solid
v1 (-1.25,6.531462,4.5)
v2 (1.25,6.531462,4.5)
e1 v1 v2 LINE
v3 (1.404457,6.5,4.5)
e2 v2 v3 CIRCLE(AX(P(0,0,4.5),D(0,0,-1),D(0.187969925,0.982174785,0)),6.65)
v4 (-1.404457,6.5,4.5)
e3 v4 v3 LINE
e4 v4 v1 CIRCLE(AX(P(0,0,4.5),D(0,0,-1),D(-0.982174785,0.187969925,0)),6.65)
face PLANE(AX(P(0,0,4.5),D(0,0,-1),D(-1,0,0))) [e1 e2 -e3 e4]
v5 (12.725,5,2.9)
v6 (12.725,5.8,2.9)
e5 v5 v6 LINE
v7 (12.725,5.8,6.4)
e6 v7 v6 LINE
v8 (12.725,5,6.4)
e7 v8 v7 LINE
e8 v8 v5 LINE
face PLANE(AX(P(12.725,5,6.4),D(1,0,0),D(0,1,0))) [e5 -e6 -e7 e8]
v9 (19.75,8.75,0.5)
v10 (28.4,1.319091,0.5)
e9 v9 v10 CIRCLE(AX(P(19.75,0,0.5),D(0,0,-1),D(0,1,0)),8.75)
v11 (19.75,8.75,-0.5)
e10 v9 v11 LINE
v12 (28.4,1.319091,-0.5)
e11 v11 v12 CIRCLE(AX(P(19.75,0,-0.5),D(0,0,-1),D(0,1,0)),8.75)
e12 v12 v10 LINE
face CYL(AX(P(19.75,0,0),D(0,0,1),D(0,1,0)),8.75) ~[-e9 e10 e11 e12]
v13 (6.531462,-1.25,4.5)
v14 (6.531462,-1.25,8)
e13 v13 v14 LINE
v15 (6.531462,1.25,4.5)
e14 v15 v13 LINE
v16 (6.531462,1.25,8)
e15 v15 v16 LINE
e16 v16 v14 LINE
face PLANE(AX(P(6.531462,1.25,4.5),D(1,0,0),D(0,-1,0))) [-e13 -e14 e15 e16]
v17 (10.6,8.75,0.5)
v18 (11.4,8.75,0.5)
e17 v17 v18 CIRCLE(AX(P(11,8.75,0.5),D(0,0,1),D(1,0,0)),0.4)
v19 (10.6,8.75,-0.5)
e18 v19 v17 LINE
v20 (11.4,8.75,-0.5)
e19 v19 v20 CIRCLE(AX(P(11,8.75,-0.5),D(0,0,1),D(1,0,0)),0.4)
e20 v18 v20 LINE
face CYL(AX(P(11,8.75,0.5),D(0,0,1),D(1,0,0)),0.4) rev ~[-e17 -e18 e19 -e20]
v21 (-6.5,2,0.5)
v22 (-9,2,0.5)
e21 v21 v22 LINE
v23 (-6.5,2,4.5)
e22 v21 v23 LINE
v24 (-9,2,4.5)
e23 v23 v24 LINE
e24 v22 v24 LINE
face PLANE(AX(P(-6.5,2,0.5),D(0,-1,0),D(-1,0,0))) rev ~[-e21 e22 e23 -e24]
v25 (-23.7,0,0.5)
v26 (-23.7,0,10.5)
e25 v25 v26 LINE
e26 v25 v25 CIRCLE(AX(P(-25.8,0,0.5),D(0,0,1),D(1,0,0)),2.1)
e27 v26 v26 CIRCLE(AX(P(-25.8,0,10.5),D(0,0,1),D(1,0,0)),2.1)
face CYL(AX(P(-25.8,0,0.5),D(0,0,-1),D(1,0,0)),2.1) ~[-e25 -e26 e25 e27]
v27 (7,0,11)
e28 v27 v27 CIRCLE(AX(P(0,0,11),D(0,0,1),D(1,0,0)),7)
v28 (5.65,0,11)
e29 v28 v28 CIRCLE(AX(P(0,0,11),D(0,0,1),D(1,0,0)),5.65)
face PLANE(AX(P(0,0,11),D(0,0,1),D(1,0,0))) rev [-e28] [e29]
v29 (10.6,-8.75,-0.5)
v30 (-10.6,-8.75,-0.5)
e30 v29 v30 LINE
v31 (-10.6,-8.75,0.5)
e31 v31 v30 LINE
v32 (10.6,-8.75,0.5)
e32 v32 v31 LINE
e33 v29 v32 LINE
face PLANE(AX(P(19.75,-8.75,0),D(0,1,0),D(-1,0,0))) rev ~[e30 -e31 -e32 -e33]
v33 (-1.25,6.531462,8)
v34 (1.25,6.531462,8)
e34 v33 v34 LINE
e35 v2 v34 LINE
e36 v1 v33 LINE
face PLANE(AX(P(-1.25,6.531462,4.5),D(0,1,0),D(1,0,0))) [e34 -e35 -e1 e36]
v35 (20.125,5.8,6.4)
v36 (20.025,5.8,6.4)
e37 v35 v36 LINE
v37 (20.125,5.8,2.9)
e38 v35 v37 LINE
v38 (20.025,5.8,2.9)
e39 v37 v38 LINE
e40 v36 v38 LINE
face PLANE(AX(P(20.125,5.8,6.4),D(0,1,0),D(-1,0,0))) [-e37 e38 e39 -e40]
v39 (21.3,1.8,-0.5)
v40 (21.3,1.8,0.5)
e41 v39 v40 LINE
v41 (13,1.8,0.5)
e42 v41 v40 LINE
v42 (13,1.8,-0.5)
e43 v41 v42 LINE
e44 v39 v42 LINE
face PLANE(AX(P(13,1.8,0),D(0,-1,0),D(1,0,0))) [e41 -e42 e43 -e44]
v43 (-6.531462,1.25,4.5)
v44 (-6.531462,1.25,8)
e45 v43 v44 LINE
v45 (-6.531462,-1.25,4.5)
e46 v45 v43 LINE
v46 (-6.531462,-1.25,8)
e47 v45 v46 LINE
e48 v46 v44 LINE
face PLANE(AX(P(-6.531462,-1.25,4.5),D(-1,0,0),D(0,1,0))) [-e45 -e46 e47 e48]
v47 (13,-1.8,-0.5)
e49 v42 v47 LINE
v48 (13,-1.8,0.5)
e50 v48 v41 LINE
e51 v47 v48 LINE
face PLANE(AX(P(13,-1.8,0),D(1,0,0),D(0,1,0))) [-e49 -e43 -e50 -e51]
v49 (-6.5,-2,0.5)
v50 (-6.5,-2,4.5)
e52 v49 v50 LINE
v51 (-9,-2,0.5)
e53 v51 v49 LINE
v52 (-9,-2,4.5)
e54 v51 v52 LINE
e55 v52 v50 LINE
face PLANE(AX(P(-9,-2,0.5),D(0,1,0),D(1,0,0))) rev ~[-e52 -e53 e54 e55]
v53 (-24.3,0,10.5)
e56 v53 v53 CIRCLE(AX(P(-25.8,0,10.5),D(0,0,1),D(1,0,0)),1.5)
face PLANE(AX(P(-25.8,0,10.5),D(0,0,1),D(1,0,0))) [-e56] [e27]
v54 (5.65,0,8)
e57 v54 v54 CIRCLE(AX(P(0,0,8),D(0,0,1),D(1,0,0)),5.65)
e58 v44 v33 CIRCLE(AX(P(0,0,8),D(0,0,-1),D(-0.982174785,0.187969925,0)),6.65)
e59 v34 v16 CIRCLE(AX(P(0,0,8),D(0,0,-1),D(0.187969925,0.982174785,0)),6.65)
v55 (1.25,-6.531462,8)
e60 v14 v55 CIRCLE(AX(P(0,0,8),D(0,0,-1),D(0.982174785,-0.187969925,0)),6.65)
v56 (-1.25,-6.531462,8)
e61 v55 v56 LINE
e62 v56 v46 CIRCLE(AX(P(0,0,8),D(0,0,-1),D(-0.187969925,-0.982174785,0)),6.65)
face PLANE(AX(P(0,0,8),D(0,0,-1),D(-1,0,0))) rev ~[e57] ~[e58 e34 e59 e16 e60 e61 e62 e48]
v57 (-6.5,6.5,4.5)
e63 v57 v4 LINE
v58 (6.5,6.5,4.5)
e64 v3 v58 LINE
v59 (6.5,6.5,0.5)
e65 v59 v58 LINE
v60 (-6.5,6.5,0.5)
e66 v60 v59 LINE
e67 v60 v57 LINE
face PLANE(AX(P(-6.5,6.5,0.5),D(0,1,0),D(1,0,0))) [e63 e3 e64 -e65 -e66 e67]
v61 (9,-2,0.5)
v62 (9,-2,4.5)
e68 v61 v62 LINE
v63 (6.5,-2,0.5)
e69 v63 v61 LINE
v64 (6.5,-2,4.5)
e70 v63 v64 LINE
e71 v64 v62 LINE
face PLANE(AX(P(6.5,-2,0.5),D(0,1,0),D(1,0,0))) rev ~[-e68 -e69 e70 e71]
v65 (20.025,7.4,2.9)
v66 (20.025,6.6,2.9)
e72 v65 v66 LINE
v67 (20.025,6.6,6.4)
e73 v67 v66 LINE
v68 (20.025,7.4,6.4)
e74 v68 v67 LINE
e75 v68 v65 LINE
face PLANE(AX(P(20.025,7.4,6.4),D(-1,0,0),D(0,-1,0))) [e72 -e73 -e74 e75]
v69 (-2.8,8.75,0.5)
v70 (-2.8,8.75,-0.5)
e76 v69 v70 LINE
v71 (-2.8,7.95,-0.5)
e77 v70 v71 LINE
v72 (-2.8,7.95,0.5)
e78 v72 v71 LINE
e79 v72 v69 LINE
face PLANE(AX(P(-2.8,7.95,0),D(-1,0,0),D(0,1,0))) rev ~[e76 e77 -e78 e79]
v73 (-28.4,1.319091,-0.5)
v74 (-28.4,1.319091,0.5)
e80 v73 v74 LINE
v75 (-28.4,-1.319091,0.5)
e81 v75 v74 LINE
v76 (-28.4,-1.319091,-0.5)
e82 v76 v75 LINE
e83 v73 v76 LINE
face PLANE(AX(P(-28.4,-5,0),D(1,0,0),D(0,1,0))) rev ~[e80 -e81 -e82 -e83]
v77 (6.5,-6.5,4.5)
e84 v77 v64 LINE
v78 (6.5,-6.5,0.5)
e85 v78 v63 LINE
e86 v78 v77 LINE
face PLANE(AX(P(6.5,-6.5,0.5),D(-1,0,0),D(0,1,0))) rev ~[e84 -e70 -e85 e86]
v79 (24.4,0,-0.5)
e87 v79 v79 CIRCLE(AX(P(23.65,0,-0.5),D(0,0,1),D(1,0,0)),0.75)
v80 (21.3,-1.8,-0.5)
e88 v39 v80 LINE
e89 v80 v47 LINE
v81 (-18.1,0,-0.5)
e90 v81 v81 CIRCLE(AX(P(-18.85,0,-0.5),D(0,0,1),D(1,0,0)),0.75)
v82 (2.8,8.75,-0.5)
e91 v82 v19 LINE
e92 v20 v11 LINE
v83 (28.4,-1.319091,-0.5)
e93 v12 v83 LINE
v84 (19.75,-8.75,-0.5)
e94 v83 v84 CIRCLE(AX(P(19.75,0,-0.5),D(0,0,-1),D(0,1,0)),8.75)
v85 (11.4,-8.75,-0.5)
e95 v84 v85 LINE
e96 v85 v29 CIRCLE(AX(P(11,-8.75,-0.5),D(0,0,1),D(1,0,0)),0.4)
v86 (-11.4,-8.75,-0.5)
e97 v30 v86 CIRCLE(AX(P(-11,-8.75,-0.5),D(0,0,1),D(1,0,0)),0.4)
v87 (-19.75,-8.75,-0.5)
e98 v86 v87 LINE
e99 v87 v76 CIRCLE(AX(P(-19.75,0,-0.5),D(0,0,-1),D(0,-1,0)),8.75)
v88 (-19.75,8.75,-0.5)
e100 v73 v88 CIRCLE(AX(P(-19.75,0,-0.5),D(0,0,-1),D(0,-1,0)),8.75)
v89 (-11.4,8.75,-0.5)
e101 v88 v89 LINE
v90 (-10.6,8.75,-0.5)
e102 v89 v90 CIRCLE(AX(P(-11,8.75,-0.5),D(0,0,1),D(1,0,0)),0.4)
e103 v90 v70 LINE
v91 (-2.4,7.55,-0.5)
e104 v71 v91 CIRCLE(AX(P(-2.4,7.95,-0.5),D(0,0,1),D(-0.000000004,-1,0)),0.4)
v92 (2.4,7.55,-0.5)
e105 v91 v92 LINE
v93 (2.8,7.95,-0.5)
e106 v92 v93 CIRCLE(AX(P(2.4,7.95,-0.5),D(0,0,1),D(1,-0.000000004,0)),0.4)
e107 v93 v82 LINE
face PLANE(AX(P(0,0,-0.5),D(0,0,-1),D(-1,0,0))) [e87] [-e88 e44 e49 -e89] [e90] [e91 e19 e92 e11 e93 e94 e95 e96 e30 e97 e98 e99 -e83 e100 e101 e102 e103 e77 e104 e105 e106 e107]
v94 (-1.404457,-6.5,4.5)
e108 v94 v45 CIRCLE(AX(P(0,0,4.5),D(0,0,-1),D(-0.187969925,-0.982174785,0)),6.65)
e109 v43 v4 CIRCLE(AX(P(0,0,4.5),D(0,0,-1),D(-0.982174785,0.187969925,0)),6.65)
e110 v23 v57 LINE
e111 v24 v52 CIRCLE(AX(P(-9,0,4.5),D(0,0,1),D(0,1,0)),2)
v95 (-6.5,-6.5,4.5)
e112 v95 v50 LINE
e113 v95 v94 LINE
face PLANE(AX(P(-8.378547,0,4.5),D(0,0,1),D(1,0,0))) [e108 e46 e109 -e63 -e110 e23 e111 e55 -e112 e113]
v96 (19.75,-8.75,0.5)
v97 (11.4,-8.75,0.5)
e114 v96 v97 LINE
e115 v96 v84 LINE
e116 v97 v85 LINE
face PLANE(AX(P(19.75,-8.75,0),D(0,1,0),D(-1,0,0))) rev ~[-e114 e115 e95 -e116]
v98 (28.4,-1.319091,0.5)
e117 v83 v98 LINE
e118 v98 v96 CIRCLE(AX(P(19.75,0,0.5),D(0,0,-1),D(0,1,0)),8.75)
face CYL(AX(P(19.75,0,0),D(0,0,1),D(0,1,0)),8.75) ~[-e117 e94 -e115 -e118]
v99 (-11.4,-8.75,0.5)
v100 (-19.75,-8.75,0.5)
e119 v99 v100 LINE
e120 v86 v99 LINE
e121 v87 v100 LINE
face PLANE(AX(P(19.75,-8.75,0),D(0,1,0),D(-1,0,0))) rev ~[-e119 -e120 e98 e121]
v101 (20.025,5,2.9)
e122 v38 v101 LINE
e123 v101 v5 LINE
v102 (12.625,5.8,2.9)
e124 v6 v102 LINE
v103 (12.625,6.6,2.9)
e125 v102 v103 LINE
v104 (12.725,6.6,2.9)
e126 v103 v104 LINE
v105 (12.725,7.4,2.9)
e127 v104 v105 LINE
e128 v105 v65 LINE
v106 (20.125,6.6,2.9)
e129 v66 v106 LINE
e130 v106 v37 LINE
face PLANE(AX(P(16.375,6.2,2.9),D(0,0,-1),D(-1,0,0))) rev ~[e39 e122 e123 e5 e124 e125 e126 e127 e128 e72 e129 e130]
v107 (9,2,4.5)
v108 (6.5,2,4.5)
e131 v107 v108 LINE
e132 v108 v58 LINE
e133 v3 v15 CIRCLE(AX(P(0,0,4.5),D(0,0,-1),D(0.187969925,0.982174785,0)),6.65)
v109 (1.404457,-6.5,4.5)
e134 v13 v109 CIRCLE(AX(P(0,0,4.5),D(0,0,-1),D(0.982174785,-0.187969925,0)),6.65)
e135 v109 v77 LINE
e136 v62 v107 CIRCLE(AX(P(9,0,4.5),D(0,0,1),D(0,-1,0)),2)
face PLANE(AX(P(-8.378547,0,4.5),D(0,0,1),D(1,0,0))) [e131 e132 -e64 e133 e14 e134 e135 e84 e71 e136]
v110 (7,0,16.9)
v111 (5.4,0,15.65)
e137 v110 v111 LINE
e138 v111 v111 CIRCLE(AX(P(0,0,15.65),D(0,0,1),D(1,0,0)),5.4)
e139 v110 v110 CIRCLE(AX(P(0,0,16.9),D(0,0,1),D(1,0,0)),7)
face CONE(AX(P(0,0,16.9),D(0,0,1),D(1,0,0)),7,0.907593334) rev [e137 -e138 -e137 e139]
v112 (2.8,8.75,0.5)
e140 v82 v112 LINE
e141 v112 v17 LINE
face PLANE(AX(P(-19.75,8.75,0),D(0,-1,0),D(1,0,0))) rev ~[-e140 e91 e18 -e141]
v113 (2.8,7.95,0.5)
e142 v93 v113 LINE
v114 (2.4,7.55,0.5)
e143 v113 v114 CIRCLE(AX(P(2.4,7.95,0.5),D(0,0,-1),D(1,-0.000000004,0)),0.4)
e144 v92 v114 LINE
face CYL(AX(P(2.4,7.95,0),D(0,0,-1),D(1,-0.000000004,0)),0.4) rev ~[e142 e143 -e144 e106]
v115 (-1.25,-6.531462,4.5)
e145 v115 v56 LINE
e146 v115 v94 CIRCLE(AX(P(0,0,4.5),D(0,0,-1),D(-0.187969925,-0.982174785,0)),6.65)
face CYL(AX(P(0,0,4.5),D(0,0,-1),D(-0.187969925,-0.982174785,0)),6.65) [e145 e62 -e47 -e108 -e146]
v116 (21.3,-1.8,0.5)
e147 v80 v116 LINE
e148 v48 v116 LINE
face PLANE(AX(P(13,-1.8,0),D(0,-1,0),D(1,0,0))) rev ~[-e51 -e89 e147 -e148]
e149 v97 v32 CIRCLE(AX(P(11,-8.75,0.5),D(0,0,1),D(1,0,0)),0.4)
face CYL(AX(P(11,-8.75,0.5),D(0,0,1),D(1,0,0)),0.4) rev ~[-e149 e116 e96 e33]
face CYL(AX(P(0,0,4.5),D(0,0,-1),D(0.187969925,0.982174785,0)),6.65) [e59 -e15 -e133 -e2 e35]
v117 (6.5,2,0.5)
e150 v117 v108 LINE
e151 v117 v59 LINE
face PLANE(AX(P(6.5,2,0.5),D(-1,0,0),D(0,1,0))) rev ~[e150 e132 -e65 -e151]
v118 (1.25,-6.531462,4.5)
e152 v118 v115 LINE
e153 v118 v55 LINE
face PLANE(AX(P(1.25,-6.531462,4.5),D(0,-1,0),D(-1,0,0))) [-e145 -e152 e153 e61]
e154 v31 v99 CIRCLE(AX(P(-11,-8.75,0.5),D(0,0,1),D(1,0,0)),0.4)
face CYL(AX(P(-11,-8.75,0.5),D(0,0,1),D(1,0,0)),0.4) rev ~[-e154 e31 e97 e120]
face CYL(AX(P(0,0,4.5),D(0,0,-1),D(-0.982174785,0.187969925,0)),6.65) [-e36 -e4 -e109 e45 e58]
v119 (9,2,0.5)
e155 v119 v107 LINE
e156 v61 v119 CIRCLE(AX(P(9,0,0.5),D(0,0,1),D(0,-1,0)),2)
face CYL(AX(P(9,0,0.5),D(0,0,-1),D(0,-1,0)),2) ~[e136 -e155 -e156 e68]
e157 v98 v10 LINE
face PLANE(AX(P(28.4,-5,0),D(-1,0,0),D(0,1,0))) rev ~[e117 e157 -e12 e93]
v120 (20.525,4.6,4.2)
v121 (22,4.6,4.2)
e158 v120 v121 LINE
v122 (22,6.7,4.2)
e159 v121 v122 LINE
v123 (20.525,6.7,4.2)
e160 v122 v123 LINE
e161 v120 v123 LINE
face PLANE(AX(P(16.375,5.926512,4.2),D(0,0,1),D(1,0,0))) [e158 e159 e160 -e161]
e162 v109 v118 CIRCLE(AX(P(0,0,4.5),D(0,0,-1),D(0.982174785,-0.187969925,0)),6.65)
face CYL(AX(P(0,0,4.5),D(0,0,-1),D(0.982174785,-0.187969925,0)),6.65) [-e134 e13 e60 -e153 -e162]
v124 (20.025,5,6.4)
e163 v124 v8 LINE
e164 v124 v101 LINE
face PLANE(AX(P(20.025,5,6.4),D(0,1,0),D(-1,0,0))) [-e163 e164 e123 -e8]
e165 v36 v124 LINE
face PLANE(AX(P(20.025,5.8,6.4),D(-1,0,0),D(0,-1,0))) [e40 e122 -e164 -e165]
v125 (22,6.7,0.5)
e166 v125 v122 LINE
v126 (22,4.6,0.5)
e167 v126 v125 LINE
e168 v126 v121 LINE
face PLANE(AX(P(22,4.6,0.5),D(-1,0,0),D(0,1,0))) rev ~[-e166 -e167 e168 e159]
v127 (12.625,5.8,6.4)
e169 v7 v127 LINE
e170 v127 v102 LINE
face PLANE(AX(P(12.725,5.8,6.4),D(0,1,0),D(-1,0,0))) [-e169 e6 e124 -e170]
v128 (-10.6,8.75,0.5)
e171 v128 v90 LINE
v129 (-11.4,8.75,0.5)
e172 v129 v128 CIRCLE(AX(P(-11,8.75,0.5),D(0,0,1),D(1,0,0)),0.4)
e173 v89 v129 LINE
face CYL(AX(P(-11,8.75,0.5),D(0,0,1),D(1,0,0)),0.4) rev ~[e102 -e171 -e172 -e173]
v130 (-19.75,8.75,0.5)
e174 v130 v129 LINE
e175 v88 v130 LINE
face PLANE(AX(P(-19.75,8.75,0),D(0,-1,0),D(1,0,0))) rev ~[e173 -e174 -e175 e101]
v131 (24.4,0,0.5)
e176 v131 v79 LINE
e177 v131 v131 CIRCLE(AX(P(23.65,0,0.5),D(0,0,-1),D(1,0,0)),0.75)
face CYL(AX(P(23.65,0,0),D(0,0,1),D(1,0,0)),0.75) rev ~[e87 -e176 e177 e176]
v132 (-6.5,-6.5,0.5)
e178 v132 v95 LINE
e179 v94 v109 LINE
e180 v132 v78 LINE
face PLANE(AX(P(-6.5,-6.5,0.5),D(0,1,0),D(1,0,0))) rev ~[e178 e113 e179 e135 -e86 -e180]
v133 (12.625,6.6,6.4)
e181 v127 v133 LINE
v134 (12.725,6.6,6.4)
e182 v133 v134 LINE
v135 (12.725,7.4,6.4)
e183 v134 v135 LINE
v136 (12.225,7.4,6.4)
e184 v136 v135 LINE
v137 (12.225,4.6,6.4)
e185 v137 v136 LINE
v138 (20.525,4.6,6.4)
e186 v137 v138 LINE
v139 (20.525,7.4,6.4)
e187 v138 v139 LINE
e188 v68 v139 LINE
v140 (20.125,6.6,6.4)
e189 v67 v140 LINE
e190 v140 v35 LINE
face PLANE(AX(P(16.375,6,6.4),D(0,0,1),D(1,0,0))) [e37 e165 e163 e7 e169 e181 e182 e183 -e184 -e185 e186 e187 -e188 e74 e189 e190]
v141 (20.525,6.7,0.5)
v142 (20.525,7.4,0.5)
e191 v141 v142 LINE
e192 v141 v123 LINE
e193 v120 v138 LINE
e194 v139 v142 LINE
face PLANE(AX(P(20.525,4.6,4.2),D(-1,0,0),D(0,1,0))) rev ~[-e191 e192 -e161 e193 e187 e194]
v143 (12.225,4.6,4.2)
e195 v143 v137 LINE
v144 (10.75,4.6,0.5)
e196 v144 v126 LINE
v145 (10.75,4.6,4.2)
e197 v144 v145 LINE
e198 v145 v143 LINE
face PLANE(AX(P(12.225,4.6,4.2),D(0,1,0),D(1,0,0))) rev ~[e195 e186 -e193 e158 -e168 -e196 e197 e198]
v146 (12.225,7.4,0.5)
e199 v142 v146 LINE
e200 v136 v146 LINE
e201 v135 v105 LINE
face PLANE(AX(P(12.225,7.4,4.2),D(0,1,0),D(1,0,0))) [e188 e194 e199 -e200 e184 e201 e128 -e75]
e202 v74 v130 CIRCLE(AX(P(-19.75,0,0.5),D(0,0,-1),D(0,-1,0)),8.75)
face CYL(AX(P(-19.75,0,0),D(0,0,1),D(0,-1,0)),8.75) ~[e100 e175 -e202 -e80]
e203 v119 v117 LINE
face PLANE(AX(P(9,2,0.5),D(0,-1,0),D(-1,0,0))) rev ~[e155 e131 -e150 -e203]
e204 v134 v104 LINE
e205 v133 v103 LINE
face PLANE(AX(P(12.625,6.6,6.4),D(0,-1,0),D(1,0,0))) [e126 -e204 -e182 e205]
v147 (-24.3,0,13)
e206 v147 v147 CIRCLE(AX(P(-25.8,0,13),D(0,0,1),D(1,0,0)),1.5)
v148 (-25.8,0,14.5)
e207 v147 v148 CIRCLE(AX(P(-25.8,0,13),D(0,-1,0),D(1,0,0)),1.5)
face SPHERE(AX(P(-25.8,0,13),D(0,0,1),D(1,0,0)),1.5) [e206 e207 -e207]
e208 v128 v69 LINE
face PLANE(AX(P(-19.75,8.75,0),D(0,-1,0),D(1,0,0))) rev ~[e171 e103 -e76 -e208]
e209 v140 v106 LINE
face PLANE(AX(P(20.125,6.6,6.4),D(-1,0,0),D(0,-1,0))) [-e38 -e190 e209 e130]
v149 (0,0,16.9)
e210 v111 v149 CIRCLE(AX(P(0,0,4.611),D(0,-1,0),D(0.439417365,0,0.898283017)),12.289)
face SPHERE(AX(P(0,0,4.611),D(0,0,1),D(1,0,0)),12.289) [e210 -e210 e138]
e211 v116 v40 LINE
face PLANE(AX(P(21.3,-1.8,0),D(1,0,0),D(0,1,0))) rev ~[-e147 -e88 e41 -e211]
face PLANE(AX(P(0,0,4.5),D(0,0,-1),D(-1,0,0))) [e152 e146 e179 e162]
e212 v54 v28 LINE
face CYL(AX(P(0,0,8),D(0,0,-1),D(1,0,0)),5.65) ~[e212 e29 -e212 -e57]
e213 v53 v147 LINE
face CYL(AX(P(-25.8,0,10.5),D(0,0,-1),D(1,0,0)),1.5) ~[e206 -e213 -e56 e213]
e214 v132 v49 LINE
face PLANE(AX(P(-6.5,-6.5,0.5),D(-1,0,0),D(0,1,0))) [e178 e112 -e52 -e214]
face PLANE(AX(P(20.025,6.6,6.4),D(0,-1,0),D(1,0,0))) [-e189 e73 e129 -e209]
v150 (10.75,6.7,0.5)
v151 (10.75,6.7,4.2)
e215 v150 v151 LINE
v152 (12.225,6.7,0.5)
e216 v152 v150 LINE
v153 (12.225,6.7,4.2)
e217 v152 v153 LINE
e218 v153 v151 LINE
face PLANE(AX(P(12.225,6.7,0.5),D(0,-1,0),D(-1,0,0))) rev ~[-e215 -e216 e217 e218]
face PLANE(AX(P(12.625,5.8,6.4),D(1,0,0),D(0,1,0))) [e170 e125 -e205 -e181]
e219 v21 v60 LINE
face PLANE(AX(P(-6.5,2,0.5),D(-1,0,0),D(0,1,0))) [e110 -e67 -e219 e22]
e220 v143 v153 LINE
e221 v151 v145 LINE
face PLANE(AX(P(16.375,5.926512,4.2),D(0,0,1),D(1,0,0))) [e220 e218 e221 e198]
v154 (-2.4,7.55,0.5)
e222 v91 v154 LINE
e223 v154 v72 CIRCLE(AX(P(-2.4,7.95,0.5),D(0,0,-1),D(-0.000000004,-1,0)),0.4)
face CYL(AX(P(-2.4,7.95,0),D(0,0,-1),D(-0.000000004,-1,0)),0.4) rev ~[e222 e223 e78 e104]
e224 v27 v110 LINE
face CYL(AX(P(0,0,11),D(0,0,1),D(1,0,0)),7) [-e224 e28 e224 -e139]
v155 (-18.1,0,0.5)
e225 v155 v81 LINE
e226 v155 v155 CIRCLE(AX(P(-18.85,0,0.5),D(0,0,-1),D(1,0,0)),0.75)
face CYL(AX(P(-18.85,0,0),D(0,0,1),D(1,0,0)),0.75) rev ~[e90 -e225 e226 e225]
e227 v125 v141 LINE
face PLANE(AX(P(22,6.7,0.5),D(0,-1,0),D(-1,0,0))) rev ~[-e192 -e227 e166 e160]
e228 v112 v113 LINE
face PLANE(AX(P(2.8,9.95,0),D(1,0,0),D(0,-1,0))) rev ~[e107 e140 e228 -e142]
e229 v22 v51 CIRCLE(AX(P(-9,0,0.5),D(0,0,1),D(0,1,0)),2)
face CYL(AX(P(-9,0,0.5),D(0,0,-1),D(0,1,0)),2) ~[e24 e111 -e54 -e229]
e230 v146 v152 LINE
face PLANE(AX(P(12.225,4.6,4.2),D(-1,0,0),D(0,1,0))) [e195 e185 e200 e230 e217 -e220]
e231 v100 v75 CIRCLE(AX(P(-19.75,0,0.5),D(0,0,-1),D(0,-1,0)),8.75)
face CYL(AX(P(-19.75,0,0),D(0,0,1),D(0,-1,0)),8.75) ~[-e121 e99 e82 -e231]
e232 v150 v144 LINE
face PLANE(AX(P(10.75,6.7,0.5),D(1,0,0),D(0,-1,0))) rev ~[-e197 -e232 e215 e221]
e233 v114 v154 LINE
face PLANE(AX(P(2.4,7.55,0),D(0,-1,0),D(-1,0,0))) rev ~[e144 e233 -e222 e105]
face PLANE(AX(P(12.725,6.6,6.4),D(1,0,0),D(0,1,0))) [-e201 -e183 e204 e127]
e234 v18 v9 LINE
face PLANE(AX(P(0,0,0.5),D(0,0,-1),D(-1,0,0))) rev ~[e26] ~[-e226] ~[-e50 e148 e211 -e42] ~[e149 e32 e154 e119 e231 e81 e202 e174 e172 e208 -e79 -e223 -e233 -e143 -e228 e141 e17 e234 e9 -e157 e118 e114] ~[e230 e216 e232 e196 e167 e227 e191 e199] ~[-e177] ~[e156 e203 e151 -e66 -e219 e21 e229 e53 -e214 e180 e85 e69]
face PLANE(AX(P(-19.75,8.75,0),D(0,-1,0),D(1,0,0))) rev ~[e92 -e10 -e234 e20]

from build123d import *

# Parameters (mm, degrees)
BOSS_EXTRUDE1_DEPTH     = 0.5
SKETCH2_W               = 2
SKETCH2_H               = 10
CUT_EXTRUDE1_DEPTH      = 1.5
CUT_EXTRUDE1_DEPTH_BACK = 1.5
SKETCH3_R               = 0.75
SKETCH3_W               = 8.3
SKETCH3_H               = 3.6
CUT_EXTRUDE2_DEPTH      = 1.5
CUT_EXTRUDE2_DEPTH_BACK = 1.5
SKETCH4_R               = 2.1
BOSS_EXTRUDE2_DEPTH     = 10
SKETCH5_R               = 1.5
BOSS_EXTRUDE3_DEPTH     = 2.5
DOME1_FACE_RADIUS       = 1.5
DOME1_HEIGHT            = 1.5
SKETCH6_W               = 13
SKETCH6_H               = 4
SKETCH6_H_2             = 4.5
BOSS_EXTRUDE4_DEPTH     = 4
BOSS_EXTRUDE5_DEPTH     = 3.5
SKETCH8_R               = 5.65
BOSS_EXTRUDE6_DEPTH     = 3
BOSS_EXTRUDE7_DEPTH     = 3.7
SKETCH11_W              = 8.3
SKETCH11_H              = 2.8
BOSS_EXTRUDE8_DEPTH     = 2.2
CUT_EXTRUDE3_DEPTH      = 3.5
CUT_EXTRUDE4_REACH      = 3
SKETCH15_R              = 0.4


with BuildPart() as part:
    # Sketch1 → Boss-Extrude1 (new body, symmetric)
    with BuildSketch(Plane.XY):
        with BuildLine():
            Line((-19.75, 8.75), (19.75, 8.75))
            ThreePointArc((19.75, 8.75), (28.5, 0), (19.75, -8.75))
            Line((19.75, -8.75), (-19.75, -8.75))
            ThreePointArc((-19.75, -8.75), (-28.5, 0), (-19.75, 8.75))
        make_face()
    extrude(amount=BOSS_EXTRUDE1_DEPTH, both=True)

    # Sketch2 → Cut-Extrude1 (cut, two sides)
    with BuildSketch(Plane.XY) as cut_extrude1_sk:
        with Locations((29.4, 0)):
            Rectangle(SKETCH2_W, SKETCH2_H)
        with Locations((-29.4, 0)):
            Rectangle(SKETCH2_W, SKETCH2_H)
        with BuildLine():
            Line((2.4, 7.55), (-2.4, 7.55))
            ThreePointArc((-2.4, 7.55), (-2.682842712, 7.667157288), (-2.8, 7.95))
            Line((-2.8, 7.95), (-2.8, 9.95))
            Line((-2.8, 9.95), (2.8, 9.95))
            Line((2.8, 9.95), (2.8, 7.95))
            ThreePointArc((2.8, 7.95), (2.682842712, 7.667157288), (2.4, 7.55))
        make_face()
    extrude(amount=CUT_EXTRUDE1_DEPTH, mode=Mode.SUBTRACT)
    extrude(cut_extrude1_sk.sketch, amount=-CUT_EXTRUDE1_DEPTH_BACK, mode=Mode.SUBTRACT)

    # Sketch3 → Cut-Extrude2 (cut, two sides)
    with BuildSketch(Plane.XY) as cut_extrude2_sk:
        with Locations((23.65, 0)):
            Circle(SKETCH3_R)
        with Locations((-18.85, 0)):
            Circle(SKETCH3_R)
        with Locations((17.15, 0)):
            Rectangle(SKETCH3_W, SKETCH3_H)
    extrude(amount=CUT_EXTRUDE2_DEPTH, mode=Mode.SUBTRACT)
    extrude(cut_extrude2_sk.sketch, amount=-CUT_EXTRUDE2_DEPTH_BACK, mode=Mode.SUBTRACT)

    # Sketch4 → Boss-Extrude2 (add)
    with BuildSketch(Plane.XY.offset(0.5)):
        with Locations((-25.8, 0)):
            Circle(SKETCH4_R)
    extrude(amount=BOSS_EXTRUDE2_DEPTH)

    # Sketch5 → Boss-Extrude3 (add)
    with BuildSketch(Plane.XY.offset(10.5)):
        with Locations((-25.8, 0)):
            Circle(SKETCH5_R)
    extrude(amount=BOSS_EXTRUDE3_DEPTH)

    # Dome1: a dome of height H over a round flat face of radius A is a cap of a sphere of radius (A * A + H * H) / (2 * H)
    dome1_r = (DOME1_FACE_RADIUS * DOME1_FACE_RADIUS + DOME1_HEIGHT * DOME1_HEIGHT) / (2 * DOME1_HEIGHT)
    dome1_base = Plane((-25.8, 0, 13), z_dir=(0, 0, 1))
    with Locations(dome1_base.offset(DOME1_HEIGHT - dome1_r)):
        dome1_ball = Sphere(dome1_r, mode=Mode.PRIVATE)
    add(split(dome1_ball, bisect_by=dome1_base, keep=Keep.TOP, mode=Mode.PRIVATE))

    # Sketch6 → Boss-Extrude4 (add)
    with BuildSketch(Plane.XY.offset(0.5)):
        with BuildLine():
            Line((-6.5, -2), (-6.5, 2))
            Line((-6.5, 2), (-9, 2))
            ThreePointArc((-9, 2), (-11, 0), (-9, -2))
            Line((-9, -2), (-6.5, -2))
        make_face()
        Rectangle(SKETCH6_W, SKETCH6_H)
        with BuildLine():
            Line((9, 2), (6.5, 2))
            Line((6.5, 2), (6.5, -2))
            Line((6.5, -2), (9, -2))
            ThreePointArc((9, -2), (11, 0), (9, 2))
        make_face()
        with Locations((0, -4.25)):
            Rectangle(SKETCH6_W, SKETCH6_H_2)
        with Locations((0, 4.25)):
            Rectangle(SKETCH6_W, SKETCH6_H_2)
    extrude(amount=BOSS_EXTRUDE4_DEPTH)

    # Sketch7 → Boss-Extrude5 (add)
    with BuildSketch(Plane.XY.offset(4.5)):
        with BuildLine():
            Line((6.531462317, 1.25), (6.531462317, -1.25))
            ThreePointArc((6.531462317, -1.25), (4.702260095, -4.702260095), (1.25, -6.531462317))
            Line((1.25, -6.531462317), (-1.25, -6.531462317))
            ThreePointArc((-1.25, -6.531462317), (-4.702260095, -4.702260095), (-6.531462317, -1.25))
            Line((-6.531462317, -1.25), (-6.531462317, 1.25))
            ThreePointArc((-6.531462317, 1.25), (-4.702260095, 4.702260095), (-1.25, 6.531462317))
            Line((-1.25, 6.531462317), (1.25, 6.531462317))
            ThreePointArc((1.25, 6.531462317), (4.702260095, 4.702260095), (6.531462317, 1.25))
        make_face()
    extrude(amount=BOSS_EXTRUDE5_DEPTH)

    # Sketch8 → Boss-Extrude6 (add)
    with BuildSketch(Plane.XY.offset(8)):
        Circle(SKETCH8_R)
    extrude(amount=BOSS_EXTRUDE6_DEPTH)

    # Sketch9 → Revolve1 (revolve)
    with BuildSketch(Plane(origin=(0, 0, 0), x_dir=(1, 0, 0), z_dir=(0, 1, 0))):
        with BuildLine():
            Line((0, -11), (7, -11))
            Line((7, -11), (7, -16.9))
            Line((7, -16.9), (5.4, -15.65))
            ThreePointArc((5.4, -15.65), (2.771394054, -16.583422311), (0, -16.9))
            Line((0, -16.9), (0, -11))
        make_face()
    revolve(axis=Axis((0, 0, 0.5), (0, 0, 1)))

    # Sketch10 → Boss-Extrude7 (add)
    with BuildSketch(Plane.XY.offset(0.5)):
        Polygon((10.75, 4.6), (22, 4.6), (22, 6.7), (20.525, 6.7), (20.525, 7.4), (12.225, 7.4), (12.225, 6.7), (10.75, 6.7), align=None)
    extrude(amount=BOSS_EXTRUDE7_DEPTH)

    # Sketch11 → Boss-Extrude8 (add)
    with BuildSketch(Plane.XY.offset(4.2)):
        with Locations((16.375, 6)):
            Rectangle(SKETCH11_W, SKETCH11_H)
    extrude(amount=BOSS_EXTRUDE8_DEPTH)

    # Sketch12 → Cut-Extrude3 (cut)
    with BuildSketch(Plane.XY.offset(6.4)):
        Polygon((20.025, 7.4), (20.025, 6.6), (20.125, 6.6), (20.125, 5.8), (20.025, 5.8), (20.025, 5), (12.725, 5), (12.725, 5.8), (12.625, 5.8), (12.625, 6.6), (12.725, 6.6), (12.725, 7.4), align=None)
    extrude(amount=-CUT_EXTRUDE3_DEPTH, mode=Mode.SUBTRACT)

    # Sketch15 → Cut-Extrude4 (cut, up to next)
    with BuildSketch(Plane.XY.offset(0.5), mode=Mode.PRIVATE) as cut_extrude4_sk1:
        with Locations((11, 8.75)):
            Circle(SKETCH15_R)
    cut_extrude4_tool1 = extrude(cut_extrude4_sk1.sketch, amount=-CUT_EXTRUDE4_REACH, mode=Mode.PRIVATE) & part.part
    add(cut_extrude4_tool1.solids().sort_by_distance((11, 8.75, 0.5))[0], mode=Mode.SUBTRACT)
    # Sketch15 → Cut-Extrude4 (cut, up to next)
    with BuildSketch(Plane.XY.offset(0.5), mode=Mode.PRIVATE) as cut_extrude4_sk2:
        with Locations((-11, 8.75)):
            Circle(SKETCH15_R)
    cut_extrude4_tool2 = extrude(cut_extrude4_sk2.sketch, amount=-CUT_EXTRUDE4_REACH, mode=Mode.PRIVATE) & part.part
    add(cut_extrude4_tool2.solids().sort_by_distance((-11, 8.75, 0.5))[0], mode=Mode.SUBTRACT)
    # Sketch15 → Cut-Extrude4 (cut, up to next)
    with BuildSketch(Plane.XY.offset(0.5), mode=Mode.PRIVATE) as cut_extrude4_sk3:
        with Locations((-11, -8.75)):
            Circle(SKETCH15_R)
    cut_extrude4_tool3 = extrude(cut_extrude4_sk3.sketch, amount=-CUT_EXTRUDE4_REACH, mode=Mode.PRIVATE) & part.part
    add(cut_extrude4_tool3.solids().sort_by_distance((-11, -8.75, 0.5))[0], mode=Mode.SUBTRACT)
    # Sketch15 → Cut-Extrude4 (cut, up to next)
    with BuildSketch(Plane.XY.offset(0.5), mode=Mode.PRIVATE) as cut_extrude4_sk4:
        with Locations((11, -8.75)):
            Circle(SKETCH15_R)
    cut_extrude4_tool4 = extrude(cut_extrude4_sk4.sketch, amount=-CUT_EXTRUDE4_REACH, mode=Mode.PRIVATE) & part.part
    add(cut_extrude4_tool4.solids().sort_by_distance((11, -8.75, 0.5))[0], mode=Mode.SUBTRACT)


solid = part.part
